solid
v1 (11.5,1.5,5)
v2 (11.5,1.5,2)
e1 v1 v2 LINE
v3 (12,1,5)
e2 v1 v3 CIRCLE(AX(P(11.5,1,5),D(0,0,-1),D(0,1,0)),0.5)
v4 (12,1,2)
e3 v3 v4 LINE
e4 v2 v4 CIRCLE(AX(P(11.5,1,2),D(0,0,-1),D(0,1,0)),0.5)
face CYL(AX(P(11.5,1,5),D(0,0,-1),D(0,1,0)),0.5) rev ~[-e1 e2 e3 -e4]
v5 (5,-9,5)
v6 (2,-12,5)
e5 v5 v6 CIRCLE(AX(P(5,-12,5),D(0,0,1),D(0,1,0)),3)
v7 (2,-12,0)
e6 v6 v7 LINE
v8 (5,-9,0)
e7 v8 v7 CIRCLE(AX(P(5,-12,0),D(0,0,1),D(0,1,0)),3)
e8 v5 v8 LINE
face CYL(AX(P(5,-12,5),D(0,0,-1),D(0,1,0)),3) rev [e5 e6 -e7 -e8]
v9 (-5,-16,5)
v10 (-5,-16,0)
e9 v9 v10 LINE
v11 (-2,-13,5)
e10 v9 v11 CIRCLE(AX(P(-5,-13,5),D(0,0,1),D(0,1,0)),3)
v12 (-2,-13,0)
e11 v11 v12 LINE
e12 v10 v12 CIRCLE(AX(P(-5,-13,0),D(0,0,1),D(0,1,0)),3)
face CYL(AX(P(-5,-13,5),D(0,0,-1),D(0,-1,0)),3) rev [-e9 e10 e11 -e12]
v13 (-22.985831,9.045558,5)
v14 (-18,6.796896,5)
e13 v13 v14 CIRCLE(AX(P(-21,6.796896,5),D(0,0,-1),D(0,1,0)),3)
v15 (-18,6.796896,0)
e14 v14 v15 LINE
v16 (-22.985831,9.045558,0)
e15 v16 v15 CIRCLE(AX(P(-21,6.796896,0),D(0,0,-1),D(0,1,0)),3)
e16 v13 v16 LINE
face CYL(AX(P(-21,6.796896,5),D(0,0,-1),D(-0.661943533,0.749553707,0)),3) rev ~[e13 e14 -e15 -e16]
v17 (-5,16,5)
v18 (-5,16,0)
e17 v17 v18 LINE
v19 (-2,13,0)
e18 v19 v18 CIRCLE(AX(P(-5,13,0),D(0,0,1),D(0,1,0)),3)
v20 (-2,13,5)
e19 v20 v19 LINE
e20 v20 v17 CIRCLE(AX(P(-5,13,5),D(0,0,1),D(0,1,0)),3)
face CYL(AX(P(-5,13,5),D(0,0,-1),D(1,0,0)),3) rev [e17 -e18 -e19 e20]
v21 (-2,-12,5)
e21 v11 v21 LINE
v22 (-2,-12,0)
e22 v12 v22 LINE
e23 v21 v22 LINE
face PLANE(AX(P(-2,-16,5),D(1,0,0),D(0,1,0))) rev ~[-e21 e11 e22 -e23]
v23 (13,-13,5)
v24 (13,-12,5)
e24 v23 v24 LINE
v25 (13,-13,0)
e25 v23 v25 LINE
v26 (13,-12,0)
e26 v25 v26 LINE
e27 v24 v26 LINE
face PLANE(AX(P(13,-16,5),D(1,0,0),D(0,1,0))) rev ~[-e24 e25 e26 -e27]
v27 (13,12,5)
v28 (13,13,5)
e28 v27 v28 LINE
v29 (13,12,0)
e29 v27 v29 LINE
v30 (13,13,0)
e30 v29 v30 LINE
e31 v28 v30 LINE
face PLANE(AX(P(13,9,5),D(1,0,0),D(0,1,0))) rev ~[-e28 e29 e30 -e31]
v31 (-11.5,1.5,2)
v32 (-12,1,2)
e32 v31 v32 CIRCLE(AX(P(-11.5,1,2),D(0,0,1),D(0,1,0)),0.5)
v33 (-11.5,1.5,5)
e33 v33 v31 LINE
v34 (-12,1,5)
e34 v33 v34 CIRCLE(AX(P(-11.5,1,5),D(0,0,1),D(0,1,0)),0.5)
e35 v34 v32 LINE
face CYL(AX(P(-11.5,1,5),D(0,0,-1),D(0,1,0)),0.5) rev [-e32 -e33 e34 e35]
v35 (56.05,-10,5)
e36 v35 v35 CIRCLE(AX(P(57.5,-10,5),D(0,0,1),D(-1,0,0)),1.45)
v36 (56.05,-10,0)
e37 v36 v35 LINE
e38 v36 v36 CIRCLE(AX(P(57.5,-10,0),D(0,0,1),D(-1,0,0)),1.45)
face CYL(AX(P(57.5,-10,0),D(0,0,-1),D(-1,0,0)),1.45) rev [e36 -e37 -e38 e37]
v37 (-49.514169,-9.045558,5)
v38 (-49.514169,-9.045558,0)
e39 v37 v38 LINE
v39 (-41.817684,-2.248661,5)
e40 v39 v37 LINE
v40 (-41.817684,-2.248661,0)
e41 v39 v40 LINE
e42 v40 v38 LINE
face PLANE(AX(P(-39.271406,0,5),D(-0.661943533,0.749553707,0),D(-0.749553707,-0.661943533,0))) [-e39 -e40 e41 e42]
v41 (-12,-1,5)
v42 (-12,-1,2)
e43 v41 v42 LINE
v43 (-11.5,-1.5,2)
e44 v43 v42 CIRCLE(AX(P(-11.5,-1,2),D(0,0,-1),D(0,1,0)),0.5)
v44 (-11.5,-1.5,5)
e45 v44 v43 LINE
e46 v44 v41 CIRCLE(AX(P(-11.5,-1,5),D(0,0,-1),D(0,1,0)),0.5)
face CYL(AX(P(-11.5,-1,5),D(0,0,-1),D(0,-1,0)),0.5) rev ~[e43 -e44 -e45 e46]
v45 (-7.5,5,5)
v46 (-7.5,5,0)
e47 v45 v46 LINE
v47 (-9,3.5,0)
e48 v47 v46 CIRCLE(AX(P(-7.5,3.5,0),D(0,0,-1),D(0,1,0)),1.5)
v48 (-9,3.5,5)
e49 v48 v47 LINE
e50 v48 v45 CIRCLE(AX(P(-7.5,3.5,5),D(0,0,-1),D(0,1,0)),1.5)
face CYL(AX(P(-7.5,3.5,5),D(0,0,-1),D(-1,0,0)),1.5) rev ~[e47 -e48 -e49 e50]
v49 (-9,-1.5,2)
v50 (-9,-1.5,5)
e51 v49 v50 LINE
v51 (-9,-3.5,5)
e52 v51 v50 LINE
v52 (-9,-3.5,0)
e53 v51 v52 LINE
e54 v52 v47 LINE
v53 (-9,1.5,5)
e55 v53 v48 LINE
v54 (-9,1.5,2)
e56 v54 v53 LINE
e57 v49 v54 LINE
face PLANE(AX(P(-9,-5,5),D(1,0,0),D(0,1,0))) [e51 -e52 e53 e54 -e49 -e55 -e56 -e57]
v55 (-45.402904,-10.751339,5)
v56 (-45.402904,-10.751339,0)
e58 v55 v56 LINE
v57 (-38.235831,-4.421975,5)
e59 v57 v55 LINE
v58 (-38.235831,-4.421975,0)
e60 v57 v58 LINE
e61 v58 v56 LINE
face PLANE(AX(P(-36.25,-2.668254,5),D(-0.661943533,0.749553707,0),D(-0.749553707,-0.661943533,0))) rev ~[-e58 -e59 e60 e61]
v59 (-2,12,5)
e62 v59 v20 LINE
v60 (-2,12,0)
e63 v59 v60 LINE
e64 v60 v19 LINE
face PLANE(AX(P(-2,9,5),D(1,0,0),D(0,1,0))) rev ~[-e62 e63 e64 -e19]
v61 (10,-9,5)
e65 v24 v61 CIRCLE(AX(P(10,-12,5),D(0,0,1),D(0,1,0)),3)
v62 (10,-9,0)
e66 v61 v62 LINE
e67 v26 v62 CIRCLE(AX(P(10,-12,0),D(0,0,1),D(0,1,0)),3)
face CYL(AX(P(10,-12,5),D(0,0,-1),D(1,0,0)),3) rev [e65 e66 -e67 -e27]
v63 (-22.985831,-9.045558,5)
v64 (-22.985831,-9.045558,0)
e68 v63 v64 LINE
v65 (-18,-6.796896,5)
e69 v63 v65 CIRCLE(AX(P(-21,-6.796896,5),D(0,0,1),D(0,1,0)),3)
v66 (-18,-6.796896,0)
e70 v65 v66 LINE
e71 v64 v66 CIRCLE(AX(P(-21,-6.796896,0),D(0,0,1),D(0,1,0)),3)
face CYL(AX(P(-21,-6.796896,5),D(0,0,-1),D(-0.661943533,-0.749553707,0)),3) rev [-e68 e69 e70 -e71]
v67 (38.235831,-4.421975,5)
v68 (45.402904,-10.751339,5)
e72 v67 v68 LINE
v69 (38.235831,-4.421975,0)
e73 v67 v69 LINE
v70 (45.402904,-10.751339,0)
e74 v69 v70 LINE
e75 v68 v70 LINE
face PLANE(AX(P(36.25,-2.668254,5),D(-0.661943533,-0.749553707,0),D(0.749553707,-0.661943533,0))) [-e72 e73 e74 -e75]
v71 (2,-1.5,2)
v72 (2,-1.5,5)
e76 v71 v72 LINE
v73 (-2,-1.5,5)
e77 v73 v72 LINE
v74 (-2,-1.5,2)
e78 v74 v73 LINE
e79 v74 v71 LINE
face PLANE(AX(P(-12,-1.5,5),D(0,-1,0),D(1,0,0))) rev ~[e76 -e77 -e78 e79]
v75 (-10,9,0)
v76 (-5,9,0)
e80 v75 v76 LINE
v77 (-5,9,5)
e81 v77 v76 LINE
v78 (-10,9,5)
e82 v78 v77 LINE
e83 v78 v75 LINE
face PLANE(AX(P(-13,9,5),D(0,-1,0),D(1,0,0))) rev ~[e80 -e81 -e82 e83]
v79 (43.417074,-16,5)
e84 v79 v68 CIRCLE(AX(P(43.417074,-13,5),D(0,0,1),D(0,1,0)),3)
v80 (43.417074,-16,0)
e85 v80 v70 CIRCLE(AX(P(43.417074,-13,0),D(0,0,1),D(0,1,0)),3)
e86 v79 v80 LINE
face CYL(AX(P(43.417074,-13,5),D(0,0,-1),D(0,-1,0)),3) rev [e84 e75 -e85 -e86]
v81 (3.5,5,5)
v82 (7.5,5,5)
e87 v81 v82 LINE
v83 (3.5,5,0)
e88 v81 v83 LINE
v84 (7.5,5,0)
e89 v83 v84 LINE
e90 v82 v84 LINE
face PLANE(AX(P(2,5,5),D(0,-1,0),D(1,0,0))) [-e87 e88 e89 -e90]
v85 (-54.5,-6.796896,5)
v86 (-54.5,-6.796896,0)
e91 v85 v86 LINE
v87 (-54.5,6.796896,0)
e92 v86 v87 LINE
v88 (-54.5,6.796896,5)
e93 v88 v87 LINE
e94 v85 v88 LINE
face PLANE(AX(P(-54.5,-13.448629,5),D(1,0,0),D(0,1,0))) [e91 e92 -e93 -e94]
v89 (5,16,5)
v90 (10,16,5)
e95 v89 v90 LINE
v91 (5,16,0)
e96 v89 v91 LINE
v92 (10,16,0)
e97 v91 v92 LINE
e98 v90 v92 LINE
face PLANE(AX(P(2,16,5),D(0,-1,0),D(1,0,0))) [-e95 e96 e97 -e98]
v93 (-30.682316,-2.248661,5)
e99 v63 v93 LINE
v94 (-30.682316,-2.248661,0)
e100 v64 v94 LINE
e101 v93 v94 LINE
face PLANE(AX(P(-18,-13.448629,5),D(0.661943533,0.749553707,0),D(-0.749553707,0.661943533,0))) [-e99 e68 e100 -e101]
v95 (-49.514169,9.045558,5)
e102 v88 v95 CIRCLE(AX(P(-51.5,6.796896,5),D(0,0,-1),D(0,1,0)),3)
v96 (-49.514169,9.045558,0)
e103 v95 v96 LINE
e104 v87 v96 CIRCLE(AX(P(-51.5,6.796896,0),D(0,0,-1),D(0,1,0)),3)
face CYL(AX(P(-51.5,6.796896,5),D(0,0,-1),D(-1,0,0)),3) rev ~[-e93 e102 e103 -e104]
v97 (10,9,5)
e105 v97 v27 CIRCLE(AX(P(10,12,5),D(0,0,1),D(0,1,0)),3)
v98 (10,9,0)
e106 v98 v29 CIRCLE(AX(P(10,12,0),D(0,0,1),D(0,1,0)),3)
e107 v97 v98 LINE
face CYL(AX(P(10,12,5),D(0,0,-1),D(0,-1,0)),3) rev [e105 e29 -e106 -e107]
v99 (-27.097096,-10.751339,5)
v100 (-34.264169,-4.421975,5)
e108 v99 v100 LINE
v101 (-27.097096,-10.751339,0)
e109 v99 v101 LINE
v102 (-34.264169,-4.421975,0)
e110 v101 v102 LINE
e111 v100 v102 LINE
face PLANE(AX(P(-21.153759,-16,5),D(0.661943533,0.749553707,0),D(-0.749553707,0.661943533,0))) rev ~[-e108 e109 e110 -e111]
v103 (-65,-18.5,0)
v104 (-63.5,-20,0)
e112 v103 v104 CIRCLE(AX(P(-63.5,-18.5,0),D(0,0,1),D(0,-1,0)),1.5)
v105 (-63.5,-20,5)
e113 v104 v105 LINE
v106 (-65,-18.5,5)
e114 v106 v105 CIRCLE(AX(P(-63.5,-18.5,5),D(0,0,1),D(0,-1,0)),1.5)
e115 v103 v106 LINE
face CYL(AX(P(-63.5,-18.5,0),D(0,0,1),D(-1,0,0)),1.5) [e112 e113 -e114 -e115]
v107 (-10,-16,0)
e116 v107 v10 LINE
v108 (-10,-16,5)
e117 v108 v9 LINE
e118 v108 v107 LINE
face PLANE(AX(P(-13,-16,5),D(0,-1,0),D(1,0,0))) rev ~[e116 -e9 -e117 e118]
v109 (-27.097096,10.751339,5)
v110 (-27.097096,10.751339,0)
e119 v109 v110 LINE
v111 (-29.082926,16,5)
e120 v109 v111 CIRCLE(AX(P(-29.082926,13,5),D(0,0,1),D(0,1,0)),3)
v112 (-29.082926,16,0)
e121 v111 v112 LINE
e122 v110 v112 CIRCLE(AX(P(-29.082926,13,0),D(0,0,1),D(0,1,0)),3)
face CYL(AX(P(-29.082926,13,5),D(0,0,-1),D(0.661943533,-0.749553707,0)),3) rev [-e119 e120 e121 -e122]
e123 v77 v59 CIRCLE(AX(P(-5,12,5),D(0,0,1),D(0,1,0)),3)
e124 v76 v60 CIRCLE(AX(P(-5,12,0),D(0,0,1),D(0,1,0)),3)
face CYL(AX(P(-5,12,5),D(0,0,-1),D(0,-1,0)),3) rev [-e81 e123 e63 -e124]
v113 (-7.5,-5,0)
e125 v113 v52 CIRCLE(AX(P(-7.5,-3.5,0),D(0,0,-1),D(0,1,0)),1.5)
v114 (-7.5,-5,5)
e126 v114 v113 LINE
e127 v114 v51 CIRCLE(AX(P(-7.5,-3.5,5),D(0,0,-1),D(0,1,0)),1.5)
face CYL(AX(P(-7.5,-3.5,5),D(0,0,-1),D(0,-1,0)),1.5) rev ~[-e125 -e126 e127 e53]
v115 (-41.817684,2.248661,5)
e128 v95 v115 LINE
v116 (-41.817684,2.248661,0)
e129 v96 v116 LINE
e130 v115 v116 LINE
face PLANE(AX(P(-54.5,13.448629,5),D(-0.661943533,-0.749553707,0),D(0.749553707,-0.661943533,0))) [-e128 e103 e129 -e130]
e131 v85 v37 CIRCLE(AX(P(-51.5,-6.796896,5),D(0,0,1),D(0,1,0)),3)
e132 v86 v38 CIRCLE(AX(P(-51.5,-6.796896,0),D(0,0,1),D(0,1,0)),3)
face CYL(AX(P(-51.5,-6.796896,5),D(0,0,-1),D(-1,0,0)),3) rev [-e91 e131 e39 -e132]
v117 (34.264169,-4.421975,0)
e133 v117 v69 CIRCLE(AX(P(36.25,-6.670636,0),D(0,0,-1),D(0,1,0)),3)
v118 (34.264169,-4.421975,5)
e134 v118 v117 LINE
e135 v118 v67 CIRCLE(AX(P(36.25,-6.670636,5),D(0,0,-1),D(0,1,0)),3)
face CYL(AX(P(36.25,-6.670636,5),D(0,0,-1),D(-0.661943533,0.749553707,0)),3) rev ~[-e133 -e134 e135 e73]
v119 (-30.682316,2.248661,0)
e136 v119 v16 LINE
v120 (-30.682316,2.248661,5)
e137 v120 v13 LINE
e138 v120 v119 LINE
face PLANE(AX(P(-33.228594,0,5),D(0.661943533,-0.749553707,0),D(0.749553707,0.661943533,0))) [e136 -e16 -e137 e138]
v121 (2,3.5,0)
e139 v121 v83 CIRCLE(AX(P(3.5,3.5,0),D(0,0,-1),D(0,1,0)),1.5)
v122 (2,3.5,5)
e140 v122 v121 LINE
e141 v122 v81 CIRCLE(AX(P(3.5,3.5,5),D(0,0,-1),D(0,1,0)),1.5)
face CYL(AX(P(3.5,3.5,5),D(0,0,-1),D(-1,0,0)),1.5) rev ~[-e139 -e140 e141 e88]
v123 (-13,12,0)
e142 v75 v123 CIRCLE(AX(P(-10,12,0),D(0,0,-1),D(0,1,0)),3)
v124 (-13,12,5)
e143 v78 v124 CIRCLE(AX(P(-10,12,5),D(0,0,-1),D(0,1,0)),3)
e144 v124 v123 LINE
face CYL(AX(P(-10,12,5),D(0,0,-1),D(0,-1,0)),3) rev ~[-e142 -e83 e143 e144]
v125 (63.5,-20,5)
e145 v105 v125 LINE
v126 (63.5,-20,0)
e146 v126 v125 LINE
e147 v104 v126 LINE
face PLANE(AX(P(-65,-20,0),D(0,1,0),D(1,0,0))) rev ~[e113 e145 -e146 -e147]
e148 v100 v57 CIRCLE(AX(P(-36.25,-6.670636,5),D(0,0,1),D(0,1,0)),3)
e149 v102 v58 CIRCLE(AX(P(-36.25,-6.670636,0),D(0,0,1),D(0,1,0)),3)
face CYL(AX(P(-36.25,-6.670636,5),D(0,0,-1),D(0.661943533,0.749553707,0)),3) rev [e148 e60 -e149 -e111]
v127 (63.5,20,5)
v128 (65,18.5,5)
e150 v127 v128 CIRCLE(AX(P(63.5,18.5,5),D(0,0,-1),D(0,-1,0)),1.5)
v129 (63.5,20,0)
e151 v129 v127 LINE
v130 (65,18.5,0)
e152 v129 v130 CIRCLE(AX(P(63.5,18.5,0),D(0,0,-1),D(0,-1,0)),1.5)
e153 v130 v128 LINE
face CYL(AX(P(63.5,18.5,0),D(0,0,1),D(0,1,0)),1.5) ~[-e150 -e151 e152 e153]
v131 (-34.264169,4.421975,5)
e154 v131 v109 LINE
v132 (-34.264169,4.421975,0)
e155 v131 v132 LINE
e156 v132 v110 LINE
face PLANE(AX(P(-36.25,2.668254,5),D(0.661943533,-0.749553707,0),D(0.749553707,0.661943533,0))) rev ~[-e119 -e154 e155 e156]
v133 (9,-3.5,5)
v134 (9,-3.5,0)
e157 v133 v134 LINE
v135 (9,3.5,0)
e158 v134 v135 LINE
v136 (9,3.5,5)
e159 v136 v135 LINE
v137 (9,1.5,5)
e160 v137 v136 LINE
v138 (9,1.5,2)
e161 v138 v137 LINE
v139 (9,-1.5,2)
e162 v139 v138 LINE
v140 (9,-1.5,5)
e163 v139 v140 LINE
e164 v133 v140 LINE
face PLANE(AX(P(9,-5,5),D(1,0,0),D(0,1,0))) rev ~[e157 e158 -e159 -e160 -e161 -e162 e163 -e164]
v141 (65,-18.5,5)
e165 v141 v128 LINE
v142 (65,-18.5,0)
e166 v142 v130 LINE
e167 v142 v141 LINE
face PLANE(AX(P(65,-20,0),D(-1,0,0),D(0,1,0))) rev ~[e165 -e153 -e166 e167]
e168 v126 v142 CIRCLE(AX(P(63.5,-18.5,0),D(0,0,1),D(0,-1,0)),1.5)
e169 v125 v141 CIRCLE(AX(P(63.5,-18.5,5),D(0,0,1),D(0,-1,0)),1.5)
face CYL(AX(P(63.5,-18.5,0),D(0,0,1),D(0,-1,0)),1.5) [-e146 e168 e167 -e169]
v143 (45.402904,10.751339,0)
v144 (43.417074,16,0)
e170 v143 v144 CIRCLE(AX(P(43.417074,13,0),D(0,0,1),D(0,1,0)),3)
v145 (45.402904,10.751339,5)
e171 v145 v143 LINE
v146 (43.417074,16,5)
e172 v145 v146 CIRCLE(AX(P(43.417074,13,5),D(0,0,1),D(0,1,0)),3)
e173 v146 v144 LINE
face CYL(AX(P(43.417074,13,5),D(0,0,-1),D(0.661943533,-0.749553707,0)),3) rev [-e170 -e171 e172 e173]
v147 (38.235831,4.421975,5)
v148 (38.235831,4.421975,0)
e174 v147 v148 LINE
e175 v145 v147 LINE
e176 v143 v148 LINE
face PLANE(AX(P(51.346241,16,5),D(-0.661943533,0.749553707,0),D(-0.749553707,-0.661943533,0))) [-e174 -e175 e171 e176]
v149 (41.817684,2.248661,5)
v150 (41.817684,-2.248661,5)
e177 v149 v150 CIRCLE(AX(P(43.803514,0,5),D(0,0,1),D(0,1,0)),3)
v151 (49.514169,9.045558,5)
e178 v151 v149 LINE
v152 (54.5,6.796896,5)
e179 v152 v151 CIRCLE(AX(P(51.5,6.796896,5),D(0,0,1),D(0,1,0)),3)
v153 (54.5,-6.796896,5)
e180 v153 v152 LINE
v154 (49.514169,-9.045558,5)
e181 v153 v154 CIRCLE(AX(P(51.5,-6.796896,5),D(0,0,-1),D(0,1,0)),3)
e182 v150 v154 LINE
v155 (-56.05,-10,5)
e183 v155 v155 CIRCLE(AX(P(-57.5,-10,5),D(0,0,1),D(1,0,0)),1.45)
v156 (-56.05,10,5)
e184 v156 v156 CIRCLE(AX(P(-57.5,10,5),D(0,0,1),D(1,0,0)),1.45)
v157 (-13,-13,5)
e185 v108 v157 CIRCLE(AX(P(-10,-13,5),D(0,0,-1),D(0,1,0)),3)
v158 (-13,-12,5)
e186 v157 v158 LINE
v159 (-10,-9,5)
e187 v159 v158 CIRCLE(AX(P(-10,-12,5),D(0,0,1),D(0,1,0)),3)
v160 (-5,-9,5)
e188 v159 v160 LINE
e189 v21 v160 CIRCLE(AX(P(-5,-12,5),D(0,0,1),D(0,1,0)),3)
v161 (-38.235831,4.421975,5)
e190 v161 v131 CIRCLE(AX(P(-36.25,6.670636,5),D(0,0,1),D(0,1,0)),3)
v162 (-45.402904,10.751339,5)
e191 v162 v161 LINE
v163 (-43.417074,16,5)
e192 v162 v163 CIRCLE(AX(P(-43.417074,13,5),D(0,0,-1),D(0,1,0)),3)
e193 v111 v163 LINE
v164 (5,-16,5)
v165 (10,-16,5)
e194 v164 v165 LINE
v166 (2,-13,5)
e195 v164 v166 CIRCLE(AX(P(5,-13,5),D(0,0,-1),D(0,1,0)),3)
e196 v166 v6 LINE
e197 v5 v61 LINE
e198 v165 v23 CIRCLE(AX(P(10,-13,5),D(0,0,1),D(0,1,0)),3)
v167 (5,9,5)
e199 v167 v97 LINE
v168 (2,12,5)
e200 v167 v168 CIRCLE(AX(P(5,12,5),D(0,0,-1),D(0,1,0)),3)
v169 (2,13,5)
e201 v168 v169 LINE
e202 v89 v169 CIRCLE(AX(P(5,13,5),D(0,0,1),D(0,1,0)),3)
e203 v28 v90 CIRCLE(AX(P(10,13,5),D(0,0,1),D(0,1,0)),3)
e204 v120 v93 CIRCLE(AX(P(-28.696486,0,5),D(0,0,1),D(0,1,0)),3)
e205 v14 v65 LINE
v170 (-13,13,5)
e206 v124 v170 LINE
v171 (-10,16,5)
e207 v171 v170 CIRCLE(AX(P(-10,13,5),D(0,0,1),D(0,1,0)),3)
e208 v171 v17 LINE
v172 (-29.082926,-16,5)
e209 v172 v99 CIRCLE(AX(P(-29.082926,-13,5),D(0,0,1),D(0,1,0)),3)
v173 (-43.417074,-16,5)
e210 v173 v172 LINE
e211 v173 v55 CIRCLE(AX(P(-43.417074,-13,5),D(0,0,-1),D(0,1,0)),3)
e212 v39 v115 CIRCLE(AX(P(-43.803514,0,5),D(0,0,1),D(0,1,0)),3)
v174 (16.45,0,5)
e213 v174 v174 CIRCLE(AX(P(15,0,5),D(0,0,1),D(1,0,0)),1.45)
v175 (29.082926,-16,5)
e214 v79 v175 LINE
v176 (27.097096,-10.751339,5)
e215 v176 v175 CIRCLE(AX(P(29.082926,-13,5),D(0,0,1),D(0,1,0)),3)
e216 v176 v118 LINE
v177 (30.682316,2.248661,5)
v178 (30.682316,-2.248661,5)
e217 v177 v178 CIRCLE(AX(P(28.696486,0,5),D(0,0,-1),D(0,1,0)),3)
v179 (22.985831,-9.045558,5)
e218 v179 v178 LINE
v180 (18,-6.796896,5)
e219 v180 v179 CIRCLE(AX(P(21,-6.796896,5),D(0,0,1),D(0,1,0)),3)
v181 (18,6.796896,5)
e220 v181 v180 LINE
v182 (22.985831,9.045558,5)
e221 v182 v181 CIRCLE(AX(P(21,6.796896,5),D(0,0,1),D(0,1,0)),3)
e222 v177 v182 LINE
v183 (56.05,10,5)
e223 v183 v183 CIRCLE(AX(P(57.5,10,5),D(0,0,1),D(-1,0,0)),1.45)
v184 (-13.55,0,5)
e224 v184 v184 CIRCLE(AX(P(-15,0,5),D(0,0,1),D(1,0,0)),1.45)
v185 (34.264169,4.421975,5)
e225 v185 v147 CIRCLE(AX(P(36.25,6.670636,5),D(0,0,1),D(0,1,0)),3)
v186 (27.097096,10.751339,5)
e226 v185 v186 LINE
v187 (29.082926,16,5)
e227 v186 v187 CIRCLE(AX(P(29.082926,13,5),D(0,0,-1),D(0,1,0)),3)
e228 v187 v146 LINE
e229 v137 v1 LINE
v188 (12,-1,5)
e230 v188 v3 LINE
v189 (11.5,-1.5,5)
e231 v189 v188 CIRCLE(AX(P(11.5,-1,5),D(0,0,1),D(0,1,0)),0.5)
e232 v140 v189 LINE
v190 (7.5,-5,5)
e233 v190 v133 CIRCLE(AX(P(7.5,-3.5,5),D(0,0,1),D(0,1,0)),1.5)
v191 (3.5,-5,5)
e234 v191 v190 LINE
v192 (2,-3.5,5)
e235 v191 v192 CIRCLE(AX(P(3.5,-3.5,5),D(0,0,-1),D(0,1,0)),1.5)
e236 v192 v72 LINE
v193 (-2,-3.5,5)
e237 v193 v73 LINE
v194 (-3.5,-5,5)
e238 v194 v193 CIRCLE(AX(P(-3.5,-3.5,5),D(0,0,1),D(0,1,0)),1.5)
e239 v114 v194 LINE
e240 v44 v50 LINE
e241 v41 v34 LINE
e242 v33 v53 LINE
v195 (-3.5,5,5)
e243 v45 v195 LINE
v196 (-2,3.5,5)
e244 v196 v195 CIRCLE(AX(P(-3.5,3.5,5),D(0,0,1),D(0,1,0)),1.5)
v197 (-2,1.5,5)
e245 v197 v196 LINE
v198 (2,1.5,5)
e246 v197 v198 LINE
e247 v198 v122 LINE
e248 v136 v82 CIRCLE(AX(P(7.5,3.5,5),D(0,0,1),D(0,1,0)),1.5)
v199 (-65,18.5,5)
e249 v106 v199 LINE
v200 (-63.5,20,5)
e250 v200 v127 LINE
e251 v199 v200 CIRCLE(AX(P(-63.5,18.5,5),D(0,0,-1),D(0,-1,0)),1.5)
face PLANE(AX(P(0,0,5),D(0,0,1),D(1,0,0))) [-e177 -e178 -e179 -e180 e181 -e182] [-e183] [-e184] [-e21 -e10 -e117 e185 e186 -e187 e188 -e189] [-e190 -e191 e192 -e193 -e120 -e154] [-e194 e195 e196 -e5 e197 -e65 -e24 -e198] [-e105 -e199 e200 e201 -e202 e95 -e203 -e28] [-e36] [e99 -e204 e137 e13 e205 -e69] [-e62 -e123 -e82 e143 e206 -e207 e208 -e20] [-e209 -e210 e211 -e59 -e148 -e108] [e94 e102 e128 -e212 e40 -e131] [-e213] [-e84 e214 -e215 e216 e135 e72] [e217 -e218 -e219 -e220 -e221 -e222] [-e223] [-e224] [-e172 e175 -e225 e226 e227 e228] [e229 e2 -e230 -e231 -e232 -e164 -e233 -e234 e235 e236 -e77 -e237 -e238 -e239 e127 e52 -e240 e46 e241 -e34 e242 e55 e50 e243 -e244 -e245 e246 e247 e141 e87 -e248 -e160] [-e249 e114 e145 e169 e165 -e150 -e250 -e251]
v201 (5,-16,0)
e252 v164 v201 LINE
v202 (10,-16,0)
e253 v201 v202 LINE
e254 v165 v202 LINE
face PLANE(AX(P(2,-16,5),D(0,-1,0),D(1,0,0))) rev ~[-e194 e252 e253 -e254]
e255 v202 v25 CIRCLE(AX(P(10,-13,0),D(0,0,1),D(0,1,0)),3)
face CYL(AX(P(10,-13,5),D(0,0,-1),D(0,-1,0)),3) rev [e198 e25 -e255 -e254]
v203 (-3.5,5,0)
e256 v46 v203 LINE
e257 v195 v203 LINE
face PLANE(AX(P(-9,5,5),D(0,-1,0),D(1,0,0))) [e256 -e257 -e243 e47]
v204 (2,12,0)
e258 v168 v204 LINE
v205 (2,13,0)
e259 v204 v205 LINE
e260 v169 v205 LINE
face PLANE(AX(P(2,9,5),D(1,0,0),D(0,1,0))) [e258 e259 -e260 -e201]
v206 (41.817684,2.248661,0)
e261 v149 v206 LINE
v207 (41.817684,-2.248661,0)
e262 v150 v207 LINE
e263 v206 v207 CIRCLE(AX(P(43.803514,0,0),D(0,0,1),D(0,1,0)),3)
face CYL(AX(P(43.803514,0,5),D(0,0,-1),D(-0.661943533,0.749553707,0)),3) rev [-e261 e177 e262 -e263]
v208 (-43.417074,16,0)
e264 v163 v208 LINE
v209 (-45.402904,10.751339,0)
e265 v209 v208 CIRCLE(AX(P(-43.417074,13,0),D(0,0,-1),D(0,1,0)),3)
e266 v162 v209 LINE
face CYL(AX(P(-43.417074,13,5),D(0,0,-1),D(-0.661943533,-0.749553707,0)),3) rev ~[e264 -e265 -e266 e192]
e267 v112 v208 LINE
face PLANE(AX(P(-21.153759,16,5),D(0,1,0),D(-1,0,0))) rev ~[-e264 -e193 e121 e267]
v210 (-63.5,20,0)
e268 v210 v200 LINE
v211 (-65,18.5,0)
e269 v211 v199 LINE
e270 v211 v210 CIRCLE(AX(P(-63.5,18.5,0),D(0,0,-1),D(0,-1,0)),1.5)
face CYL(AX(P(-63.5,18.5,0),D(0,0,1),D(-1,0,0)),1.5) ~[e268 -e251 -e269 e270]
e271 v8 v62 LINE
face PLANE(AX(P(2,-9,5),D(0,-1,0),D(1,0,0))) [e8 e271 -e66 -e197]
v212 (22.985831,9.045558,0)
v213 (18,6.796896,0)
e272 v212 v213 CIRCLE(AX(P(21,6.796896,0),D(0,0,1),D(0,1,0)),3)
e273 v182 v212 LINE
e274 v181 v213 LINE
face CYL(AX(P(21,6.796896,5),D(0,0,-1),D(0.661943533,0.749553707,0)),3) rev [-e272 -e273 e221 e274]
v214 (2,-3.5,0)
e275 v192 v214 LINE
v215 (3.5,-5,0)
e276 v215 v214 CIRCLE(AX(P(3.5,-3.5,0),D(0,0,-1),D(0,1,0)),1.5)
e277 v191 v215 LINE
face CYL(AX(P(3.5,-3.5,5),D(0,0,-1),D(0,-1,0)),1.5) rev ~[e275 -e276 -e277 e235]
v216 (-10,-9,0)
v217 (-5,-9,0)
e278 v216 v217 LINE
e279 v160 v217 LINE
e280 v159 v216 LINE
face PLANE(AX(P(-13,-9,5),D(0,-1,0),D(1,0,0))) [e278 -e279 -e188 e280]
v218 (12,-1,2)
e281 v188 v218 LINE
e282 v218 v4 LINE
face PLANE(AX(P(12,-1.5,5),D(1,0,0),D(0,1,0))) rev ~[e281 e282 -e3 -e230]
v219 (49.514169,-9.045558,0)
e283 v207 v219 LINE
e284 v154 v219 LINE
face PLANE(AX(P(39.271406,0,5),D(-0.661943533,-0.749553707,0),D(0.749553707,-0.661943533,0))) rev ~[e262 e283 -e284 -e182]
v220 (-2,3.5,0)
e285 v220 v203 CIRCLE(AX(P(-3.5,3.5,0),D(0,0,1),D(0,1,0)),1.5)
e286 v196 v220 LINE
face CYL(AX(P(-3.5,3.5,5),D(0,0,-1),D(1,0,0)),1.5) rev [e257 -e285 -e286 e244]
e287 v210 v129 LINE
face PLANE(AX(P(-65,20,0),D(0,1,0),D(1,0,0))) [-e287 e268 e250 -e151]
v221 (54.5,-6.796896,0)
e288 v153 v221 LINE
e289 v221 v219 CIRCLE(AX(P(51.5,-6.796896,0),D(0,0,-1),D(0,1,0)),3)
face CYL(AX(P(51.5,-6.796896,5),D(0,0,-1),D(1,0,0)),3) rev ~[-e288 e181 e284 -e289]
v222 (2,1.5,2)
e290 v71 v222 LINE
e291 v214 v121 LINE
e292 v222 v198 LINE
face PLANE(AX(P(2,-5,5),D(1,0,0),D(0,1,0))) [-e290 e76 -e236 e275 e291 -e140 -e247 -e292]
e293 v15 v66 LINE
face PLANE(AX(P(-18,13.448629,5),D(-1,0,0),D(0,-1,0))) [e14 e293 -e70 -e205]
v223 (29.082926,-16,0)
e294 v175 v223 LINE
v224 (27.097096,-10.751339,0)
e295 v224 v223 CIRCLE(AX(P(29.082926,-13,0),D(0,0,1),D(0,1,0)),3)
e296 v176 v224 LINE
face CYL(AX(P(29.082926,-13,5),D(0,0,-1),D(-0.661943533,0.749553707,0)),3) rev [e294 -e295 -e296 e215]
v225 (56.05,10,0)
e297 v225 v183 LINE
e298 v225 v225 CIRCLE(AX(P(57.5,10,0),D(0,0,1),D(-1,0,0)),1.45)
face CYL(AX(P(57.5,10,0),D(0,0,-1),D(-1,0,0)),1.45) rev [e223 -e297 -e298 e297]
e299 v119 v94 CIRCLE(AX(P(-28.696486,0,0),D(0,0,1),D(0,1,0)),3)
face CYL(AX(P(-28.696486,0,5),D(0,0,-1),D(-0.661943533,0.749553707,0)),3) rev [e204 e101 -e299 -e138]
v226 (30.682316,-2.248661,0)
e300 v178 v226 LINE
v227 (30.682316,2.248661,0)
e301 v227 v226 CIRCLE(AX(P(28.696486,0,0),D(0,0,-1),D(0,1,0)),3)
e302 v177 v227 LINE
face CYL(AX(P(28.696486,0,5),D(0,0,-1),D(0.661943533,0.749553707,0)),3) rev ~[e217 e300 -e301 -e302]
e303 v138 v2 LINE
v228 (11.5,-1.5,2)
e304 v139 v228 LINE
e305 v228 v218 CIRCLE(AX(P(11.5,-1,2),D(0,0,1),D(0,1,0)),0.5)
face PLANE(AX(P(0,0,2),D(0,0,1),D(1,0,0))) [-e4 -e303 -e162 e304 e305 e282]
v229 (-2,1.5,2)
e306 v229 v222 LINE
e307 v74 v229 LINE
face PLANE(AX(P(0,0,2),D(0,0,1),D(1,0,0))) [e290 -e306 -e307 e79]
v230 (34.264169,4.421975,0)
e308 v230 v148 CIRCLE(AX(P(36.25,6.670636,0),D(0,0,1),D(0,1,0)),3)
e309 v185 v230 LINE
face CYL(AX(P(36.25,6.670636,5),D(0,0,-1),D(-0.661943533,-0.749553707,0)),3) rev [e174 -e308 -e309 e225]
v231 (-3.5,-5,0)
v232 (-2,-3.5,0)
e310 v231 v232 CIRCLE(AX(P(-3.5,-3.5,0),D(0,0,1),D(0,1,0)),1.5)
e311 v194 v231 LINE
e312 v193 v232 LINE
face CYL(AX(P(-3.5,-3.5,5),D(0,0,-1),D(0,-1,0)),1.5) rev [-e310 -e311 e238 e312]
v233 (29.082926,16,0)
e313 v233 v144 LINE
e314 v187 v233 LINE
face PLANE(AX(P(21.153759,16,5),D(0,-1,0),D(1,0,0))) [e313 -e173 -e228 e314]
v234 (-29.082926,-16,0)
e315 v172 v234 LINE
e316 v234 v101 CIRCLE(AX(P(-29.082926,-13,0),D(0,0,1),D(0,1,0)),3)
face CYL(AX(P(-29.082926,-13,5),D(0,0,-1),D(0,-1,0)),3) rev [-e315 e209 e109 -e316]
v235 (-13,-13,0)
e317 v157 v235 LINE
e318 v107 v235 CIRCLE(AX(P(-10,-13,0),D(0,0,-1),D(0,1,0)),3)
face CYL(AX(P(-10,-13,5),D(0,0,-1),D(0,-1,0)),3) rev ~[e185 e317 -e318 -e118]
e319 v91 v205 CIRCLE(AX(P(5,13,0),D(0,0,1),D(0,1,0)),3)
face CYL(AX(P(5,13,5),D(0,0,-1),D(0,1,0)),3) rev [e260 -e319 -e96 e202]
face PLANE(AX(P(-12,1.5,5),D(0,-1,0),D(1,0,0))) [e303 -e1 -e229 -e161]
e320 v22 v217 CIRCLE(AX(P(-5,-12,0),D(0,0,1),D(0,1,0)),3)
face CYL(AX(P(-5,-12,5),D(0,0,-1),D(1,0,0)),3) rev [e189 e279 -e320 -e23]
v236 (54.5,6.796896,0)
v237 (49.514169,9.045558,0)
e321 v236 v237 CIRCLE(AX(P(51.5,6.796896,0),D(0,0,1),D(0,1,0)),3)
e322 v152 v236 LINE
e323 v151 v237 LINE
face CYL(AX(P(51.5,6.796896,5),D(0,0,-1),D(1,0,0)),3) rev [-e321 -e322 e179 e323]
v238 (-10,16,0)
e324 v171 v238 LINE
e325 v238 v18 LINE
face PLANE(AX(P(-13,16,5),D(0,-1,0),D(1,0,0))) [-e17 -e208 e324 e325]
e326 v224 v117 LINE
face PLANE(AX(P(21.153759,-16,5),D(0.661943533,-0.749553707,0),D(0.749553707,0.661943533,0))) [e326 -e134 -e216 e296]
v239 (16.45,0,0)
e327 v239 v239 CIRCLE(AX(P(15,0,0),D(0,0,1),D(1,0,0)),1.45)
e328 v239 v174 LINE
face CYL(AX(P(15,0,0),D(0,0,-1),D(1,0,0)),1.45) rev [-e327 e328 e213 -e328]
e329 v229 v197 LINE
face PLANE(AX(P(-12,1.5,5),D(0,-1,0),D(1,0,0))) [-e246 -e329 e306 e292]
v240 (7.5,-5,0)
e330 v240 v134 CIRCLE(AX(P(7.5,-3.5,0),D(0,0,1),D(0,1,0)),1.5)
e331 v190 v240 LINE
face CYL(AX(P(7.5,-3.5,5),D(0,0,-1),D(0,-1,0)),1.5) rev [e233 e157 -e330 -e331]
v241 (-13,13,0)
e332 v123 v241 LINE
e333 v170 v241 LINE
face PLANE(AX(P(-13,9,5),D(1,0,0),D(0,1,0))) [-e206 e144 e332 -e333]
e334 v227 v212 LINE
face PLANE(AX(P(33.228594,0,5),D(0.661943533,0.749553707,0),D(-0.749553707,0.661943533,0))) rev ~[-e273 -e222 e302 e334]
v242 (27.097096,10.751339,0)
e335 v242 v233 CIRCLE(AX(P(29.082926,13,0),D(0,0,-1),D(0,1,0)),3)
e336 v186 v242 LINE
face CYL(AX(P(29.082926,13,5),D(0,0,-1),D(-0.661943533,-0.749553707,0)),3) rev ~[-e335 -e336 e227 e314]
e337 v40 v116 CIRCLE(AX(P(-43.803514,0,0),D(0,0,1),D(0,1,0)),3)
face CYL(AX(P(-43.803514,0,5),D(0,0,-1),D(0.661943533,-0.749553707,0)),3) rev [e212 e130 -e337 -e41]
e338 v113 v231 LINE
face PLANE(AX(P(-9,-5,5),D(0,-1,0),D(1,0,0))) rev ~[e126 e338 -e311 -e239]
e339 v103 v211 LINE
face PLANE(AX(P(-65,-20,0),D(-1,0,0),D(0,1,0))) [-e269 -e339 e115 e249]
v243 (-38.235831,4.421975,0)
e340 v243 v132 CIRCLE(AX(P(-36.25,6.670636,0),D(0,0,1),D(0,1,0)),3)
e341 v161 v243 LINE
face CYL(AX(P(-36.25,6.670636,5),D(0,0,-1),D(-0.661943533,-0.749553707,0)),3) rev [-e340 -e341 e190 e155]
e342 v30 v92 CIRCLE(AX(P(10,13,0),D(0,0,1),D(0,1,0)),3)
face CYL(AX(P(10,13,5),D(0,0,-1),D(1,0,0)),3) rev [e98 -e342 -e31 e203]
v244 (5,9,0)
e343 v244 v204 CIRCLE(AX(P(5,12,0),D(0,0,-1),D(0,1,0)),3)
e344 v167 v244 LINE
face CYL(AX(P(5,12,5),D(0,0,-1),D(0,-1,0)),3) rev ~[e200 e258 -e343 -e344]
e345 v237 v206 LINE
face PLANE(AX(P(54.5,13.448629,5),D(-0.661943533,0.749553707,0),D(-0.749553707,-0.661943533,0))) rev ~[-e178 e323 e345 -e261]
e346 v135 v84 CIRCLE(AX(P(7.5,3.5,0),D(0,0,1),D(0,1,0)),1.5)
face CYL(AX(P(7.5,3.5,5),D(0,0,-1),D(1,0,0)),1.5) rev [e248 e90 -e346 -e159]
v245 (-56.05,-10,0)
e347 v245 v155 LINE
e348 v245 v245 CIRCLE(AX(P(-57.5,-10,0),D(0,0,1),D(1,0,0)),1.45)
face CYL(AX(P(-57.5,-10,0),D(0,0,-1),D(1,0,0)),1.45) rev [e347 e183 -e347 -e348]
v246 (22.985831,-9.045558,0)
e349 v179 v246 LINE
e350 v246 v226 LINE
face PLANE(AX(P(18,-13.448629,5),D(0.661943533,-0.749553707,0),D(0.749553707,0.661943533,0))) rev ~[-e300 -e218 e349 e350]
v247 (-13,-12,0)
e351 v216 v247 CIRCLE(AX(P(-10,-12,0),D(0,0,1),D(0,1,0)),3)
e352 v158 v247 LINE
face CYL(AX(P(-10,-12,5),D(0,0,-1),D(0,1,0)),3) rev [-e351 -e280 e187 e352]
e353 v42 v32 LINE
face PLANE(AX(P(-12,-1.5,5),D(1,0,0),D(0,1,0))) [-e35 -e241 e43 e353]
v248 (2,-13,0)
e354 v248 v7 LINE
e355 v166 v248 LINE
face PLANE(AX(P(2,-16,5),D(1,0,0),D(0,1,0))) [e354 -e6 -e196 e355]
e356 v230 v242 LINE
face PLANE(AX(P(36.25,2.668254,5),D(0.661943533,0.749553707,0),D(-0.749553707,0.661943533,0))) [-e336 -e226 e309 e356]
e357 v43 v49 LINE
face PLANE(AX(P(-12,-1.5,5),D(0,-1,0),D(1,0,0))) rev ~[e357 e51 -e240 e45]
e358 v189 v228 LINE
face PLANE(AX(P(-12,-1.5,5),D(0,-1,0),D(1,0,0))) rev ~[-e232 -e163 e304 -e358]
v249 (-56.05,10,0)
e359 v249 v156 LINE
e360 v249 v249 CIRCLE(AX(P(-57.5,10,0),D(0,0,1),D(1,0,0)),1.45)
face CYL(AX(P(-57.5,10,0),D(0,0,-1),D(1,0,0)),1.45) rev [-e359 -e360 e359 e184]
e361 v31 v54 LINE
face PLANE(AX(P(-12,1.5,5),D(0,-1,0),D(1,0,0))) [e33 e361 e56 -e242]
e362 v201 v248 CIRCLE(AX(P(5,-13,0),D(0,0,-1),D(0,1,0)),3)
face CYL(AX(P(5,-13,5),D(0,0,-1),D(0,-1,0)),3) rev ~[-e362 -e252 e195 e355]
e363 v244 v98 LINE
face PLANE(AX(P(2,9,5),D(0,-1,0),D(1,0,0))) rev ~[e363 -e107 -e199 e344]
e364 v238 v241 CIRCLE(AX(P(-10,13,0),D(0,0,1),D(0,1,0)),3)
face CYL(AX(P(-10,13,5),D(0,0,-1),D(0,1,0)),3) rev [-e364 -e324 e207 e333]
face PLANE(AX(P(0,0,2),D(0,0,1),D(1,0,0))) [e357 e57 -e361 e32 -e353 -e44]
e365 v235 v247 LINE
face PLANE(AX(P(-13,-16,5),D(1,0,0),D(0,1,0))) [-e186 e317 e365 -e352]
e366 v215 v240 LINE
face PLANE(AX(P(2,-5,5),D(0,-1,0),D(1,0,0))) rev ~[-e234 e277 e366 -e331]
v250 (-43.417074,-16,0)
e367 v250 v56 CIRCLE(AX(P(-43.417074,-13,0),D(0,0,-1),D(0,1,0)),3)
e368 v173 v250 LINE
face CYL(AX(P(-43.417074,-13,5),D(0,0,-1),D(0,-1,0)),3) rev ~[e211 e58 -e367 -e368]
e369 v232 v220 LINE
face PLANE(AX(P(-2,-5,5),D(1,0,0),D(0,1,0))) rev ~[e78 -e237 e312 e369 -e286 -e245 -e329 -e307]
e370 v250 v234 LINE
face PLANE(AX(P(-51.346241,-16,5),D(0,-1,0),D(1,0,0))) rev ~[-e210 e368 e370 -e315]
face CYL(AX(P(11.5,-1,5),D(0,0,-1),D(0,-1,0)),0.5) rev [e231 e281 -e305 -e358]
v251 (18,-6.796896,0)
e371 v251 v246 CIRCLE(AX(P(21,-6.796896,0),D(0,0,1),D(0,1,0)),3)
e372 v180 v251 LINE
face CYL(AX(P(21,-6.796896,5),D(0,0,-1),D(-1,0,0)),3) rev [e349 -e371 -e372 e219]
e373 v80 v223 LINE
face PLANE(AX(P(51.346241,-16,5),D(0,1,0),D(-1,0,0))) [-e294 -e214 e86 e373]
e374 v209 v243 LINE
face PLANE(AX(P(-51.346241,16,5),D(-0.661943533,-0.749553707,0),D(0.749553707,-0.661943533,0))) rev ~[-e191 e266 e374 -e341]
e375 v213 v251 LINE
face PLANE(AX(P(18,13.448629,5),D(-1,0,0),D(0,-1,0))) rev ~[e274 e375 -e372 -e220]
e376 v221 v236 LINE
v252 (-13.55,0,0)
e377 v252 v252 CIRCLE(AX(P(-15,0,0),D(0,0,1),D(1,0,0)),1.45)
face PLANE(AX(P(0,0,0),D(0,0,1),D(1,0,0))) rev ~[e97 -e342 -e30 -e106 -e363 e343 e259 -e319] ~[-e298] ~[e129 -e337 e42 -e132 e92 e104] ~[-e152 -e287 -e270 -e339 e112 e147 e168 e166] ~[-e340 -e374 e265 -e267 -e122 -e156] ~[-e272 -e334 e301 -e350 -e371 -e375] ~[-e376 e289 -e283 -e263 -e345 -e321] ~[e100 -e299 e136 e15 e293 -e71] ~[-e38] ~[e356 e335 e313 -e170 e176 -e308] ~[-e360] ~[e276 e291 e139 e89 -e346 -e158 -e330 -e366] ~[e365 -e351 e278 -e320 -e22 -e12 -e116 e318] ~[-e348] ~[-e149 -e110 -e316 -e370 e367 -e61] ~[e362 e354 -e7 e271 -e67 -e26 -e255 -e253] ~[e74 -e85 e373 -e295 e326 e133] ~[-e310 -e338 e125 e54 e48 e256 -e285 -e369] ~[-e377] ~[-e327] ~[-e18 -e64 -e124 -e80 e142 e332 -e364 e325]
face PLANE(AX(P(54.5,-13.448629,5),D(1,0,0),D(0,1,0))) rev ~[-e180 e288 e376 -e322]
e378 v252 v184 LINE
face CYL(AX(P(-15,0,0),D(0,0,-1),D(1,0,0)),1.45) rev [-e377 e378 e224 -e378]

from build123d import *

# Parameters (mm, degrees)
SKETCH_1_W          = 130
SKETCH_1_H          = 40
SKETCH_1_R          = 1.45
EXTRUDE_1_DEPTH     = 5
SKETCH_3_W          = 24
SKETCH_3_H          = 3
CUT_EXTRUDE_1_DEPTH = 3
SKETCH_4_W          = 7
SKETCH_4_H          = 10
CUT_EXTRUDE_2_DEPTH = 69.190908485
SKETCH_5_W          = 11
SKETCH_5_H          = 7
CUT_EXTRUDE_3_DEPTH = 69.190908485
FILLET_1_R          = 3
FILLET_2_R          = 1.5
FILLET_3_R          = 1.5
FILLET_4_R          = 0.5


with BuildPart() as part:
    # 草图1 → 凸台-拉伸1 (new body)
    with BuildSketch(Plane.XY):
        Rectangle(SKETCH_1_W, SKETCH_1_H)
        with Locations((-57.5, -10)):
            Circle(SKETCH_1_R, mode=Mode.SUBTRACT)
        with Locations((-57.5, 10)):
            Circle(SKETCH_1_R, mode=Mode.SUBTRACT)
        with Locations(Location((57.5, -10, 0), (0, 0, 180))):
            Circle(SKETCH_1_R, mode=Mode.SUBTRACT)
        with Locations(Location((57.5, 10, 0), (0, 0, 180))):
            Circle(SKETCH_1_R, mode=Mode.SUBTRACT)
        with Locations((-15, 0)):
            Circle(SKETCH_1_R, mode=Mode.SUBTRACT)
        with Locations((15, 0)):
            Circle(SKETCH_1_R, mode=Mode.SUBTRACT)
    extrude(amount=EXTRUDE_1_DEPTH)

    # 草图3 → 切除-拉伸1 (cut)
    with BuildSketch(Plane.XY.offset(5)):
        Rectangle(SKETCH_3_W, SKETCH_3_H)
    extrude(amount=-CUT_EXTRUDE_1_DEPTH, mode=Mode.SUBTRACT)

    # 草图4 → 切除-拉伸2 (cut, through all)
    with BuildSketch(Plane.XY.offset(5)):
        with Locations((-5.5, 0)):
            Rectangle(SKETCH_4_W, SKETCH_4_H)
        with Locations((5.5, 0)):
            Rectangle(SKETCH_4_W, SKETCH_4_H)
    extrude(amount=-CUT_EXTRUDE_2_DEPTH, mode=Mode.SUBTRACT)

    # 草图5 → 切除-拉伸3 (cut, through all)
    with BuildSketch(Plane.XY.offset(5)):
        Polygon((-51.346241304, 16), (-36.25, 2.668254433), (-21.153758696, 16), align=None)
        Polygon((-54.5, 13.448628684), (-39.271405755, 0), (-54.5, -13.448628684), align=None)
        Polygon((-18, 13.448628684), (-18, -13.448628684), (-33.228594245, 0), align=None)
        Polygon((-51.346241304, -16), (-21.153758696, -16), (-36.25, -2.668254433), align=None)
        with Locations((-7.5, 12.5)):
            Rectangle(SKETCH_5_W, SKETCH_5_H)
        with Locations((-7.5, -12.5)):
            Rectangle(SKETCH_5_W, SKETCH_5_H)
        with Locations((7.5, -12.5)):
            Rectangle(SKETCH_5_W, SKETCH_5_H)
        with Locations((7.5, 12.5)):
            Rectangle(SKETCH_5_W, SKETCH_5_H)
        Polygon((36.25, -2.668254433), (51.346241304, -16), (21.153758696, -16), align=None)
        Polygon((33.228594245, 0), (18, 13.448628684), (18, -13.448628684), align=None)
        Polygon((54.5, -13.448628684), (54.5, 13.448628684), (39.271405755, 0), align=None)
        Polygon((21.153758696, 16), (51.346241304, 16), (36.25, 2.668254433), align=None)
    extrude(amount=-CUT_EXTRUDE_3_DEPTH, mode=Mode.SUBTRACT)

    # 圆角1
    fillet_1_edges = [part.edges().sort_by_distance(p)[0] for p in [
        (-13, -16, 2.5),
        (-13, -9, 2.5),
        (-2, -9, 2.5),
        (-2, -16, 2.5),
        (13, 16, 2.5),
        (13, 9, 2.5),
        (2, 9, 2.5),
        (2, 16, 2.5),
        (2, -9, 2.5),
        (13, -9, 2.5),
        (13, -16, 2.5),
        (2, -16, 2.5),
        (21.153758696, -16, 2.5),
        (36.25, -2.668254433, 2.5),
        (51.346241304, -16, 2.5),
        (-51.346241304, 16, 2.5),
        (-21.153758696, 16, 2.5),
        (-36.25, 2.668254433, 2.5),
        (-2, 16, 2.5),
        (-2, 9, 2.5),
        (-13, 9, 2.5),
        (-13, 16, 2.5),
        (-51.346241304, -16, 2.5),
        (-36.25, -2.668254433, 2.5),
        (-21.153758696, -16, 2.5),
        (-18, -13.448628684, 2.5),
        (-33.228594245, 0, 2.5),
        (-18, 13.448628684, 2.5),
        (36.25, 2.668254433, 2.5),
        (21.153758696, 16, 2.5),
        (51.346241304, 16, 2.5),
        (54.5, -13.448628684, 2.5),
        (39.271405755, 0, 2.5),
        (54.5, 13.448628684, 2.5),
        (33.228594245, 0, 2.5),
        (18, -13.448628684, 2.5),
        (18, 13.448628684, 2.5),
        (-54.5, -13.448628684, 2.5),
        (-54.5, 13.448628684, 2.5),
        (-39.271405755, 0, 2.5),
    ]]
    fillet(fillet_1_edges, radius=FILLET_1_R)

    # 圆角2
    fillet_2_edges = [part.edges().sort_by_distance(p)[0] for p in [
        (-2, 5, 2.5),
        (-9, -5, 2.5),
        (-2, -5, 2.5),
        (-9, 5, 2.5),
        (9, 5, 2.5),
        (2, -5, 2.5),
        (9, -5, 2.5),
        (2, 5, 2.5),
    ]]
    fillet(fillet_2_edges, radius=FILLET_2_R)

    # 圆角3
    fillet_3_edges = [part.edges().sort_by_distance(p)[0] for p in [
        (65, -20, 2.5),
        (-65, -20, 2.5),
        (-65, 20, 2.5),
        (65, 20, 2.5),
    ]]
    fillet(fillet_3_edges, radius=FILLET_3_R)

    # 圆角4
    fillet_4_edges = [part.edges().sort_by_distance(p)[0] for p in [
        (12, 1.5, 3.5),
        (12, -1.5, 3.5),
        (-12, -1.5, 3.5),
        (-12, 1.5, 3.5),
    ]]
    fillet(fillet_4_edges, radius=FILLET_4_R)


solid = part.part
